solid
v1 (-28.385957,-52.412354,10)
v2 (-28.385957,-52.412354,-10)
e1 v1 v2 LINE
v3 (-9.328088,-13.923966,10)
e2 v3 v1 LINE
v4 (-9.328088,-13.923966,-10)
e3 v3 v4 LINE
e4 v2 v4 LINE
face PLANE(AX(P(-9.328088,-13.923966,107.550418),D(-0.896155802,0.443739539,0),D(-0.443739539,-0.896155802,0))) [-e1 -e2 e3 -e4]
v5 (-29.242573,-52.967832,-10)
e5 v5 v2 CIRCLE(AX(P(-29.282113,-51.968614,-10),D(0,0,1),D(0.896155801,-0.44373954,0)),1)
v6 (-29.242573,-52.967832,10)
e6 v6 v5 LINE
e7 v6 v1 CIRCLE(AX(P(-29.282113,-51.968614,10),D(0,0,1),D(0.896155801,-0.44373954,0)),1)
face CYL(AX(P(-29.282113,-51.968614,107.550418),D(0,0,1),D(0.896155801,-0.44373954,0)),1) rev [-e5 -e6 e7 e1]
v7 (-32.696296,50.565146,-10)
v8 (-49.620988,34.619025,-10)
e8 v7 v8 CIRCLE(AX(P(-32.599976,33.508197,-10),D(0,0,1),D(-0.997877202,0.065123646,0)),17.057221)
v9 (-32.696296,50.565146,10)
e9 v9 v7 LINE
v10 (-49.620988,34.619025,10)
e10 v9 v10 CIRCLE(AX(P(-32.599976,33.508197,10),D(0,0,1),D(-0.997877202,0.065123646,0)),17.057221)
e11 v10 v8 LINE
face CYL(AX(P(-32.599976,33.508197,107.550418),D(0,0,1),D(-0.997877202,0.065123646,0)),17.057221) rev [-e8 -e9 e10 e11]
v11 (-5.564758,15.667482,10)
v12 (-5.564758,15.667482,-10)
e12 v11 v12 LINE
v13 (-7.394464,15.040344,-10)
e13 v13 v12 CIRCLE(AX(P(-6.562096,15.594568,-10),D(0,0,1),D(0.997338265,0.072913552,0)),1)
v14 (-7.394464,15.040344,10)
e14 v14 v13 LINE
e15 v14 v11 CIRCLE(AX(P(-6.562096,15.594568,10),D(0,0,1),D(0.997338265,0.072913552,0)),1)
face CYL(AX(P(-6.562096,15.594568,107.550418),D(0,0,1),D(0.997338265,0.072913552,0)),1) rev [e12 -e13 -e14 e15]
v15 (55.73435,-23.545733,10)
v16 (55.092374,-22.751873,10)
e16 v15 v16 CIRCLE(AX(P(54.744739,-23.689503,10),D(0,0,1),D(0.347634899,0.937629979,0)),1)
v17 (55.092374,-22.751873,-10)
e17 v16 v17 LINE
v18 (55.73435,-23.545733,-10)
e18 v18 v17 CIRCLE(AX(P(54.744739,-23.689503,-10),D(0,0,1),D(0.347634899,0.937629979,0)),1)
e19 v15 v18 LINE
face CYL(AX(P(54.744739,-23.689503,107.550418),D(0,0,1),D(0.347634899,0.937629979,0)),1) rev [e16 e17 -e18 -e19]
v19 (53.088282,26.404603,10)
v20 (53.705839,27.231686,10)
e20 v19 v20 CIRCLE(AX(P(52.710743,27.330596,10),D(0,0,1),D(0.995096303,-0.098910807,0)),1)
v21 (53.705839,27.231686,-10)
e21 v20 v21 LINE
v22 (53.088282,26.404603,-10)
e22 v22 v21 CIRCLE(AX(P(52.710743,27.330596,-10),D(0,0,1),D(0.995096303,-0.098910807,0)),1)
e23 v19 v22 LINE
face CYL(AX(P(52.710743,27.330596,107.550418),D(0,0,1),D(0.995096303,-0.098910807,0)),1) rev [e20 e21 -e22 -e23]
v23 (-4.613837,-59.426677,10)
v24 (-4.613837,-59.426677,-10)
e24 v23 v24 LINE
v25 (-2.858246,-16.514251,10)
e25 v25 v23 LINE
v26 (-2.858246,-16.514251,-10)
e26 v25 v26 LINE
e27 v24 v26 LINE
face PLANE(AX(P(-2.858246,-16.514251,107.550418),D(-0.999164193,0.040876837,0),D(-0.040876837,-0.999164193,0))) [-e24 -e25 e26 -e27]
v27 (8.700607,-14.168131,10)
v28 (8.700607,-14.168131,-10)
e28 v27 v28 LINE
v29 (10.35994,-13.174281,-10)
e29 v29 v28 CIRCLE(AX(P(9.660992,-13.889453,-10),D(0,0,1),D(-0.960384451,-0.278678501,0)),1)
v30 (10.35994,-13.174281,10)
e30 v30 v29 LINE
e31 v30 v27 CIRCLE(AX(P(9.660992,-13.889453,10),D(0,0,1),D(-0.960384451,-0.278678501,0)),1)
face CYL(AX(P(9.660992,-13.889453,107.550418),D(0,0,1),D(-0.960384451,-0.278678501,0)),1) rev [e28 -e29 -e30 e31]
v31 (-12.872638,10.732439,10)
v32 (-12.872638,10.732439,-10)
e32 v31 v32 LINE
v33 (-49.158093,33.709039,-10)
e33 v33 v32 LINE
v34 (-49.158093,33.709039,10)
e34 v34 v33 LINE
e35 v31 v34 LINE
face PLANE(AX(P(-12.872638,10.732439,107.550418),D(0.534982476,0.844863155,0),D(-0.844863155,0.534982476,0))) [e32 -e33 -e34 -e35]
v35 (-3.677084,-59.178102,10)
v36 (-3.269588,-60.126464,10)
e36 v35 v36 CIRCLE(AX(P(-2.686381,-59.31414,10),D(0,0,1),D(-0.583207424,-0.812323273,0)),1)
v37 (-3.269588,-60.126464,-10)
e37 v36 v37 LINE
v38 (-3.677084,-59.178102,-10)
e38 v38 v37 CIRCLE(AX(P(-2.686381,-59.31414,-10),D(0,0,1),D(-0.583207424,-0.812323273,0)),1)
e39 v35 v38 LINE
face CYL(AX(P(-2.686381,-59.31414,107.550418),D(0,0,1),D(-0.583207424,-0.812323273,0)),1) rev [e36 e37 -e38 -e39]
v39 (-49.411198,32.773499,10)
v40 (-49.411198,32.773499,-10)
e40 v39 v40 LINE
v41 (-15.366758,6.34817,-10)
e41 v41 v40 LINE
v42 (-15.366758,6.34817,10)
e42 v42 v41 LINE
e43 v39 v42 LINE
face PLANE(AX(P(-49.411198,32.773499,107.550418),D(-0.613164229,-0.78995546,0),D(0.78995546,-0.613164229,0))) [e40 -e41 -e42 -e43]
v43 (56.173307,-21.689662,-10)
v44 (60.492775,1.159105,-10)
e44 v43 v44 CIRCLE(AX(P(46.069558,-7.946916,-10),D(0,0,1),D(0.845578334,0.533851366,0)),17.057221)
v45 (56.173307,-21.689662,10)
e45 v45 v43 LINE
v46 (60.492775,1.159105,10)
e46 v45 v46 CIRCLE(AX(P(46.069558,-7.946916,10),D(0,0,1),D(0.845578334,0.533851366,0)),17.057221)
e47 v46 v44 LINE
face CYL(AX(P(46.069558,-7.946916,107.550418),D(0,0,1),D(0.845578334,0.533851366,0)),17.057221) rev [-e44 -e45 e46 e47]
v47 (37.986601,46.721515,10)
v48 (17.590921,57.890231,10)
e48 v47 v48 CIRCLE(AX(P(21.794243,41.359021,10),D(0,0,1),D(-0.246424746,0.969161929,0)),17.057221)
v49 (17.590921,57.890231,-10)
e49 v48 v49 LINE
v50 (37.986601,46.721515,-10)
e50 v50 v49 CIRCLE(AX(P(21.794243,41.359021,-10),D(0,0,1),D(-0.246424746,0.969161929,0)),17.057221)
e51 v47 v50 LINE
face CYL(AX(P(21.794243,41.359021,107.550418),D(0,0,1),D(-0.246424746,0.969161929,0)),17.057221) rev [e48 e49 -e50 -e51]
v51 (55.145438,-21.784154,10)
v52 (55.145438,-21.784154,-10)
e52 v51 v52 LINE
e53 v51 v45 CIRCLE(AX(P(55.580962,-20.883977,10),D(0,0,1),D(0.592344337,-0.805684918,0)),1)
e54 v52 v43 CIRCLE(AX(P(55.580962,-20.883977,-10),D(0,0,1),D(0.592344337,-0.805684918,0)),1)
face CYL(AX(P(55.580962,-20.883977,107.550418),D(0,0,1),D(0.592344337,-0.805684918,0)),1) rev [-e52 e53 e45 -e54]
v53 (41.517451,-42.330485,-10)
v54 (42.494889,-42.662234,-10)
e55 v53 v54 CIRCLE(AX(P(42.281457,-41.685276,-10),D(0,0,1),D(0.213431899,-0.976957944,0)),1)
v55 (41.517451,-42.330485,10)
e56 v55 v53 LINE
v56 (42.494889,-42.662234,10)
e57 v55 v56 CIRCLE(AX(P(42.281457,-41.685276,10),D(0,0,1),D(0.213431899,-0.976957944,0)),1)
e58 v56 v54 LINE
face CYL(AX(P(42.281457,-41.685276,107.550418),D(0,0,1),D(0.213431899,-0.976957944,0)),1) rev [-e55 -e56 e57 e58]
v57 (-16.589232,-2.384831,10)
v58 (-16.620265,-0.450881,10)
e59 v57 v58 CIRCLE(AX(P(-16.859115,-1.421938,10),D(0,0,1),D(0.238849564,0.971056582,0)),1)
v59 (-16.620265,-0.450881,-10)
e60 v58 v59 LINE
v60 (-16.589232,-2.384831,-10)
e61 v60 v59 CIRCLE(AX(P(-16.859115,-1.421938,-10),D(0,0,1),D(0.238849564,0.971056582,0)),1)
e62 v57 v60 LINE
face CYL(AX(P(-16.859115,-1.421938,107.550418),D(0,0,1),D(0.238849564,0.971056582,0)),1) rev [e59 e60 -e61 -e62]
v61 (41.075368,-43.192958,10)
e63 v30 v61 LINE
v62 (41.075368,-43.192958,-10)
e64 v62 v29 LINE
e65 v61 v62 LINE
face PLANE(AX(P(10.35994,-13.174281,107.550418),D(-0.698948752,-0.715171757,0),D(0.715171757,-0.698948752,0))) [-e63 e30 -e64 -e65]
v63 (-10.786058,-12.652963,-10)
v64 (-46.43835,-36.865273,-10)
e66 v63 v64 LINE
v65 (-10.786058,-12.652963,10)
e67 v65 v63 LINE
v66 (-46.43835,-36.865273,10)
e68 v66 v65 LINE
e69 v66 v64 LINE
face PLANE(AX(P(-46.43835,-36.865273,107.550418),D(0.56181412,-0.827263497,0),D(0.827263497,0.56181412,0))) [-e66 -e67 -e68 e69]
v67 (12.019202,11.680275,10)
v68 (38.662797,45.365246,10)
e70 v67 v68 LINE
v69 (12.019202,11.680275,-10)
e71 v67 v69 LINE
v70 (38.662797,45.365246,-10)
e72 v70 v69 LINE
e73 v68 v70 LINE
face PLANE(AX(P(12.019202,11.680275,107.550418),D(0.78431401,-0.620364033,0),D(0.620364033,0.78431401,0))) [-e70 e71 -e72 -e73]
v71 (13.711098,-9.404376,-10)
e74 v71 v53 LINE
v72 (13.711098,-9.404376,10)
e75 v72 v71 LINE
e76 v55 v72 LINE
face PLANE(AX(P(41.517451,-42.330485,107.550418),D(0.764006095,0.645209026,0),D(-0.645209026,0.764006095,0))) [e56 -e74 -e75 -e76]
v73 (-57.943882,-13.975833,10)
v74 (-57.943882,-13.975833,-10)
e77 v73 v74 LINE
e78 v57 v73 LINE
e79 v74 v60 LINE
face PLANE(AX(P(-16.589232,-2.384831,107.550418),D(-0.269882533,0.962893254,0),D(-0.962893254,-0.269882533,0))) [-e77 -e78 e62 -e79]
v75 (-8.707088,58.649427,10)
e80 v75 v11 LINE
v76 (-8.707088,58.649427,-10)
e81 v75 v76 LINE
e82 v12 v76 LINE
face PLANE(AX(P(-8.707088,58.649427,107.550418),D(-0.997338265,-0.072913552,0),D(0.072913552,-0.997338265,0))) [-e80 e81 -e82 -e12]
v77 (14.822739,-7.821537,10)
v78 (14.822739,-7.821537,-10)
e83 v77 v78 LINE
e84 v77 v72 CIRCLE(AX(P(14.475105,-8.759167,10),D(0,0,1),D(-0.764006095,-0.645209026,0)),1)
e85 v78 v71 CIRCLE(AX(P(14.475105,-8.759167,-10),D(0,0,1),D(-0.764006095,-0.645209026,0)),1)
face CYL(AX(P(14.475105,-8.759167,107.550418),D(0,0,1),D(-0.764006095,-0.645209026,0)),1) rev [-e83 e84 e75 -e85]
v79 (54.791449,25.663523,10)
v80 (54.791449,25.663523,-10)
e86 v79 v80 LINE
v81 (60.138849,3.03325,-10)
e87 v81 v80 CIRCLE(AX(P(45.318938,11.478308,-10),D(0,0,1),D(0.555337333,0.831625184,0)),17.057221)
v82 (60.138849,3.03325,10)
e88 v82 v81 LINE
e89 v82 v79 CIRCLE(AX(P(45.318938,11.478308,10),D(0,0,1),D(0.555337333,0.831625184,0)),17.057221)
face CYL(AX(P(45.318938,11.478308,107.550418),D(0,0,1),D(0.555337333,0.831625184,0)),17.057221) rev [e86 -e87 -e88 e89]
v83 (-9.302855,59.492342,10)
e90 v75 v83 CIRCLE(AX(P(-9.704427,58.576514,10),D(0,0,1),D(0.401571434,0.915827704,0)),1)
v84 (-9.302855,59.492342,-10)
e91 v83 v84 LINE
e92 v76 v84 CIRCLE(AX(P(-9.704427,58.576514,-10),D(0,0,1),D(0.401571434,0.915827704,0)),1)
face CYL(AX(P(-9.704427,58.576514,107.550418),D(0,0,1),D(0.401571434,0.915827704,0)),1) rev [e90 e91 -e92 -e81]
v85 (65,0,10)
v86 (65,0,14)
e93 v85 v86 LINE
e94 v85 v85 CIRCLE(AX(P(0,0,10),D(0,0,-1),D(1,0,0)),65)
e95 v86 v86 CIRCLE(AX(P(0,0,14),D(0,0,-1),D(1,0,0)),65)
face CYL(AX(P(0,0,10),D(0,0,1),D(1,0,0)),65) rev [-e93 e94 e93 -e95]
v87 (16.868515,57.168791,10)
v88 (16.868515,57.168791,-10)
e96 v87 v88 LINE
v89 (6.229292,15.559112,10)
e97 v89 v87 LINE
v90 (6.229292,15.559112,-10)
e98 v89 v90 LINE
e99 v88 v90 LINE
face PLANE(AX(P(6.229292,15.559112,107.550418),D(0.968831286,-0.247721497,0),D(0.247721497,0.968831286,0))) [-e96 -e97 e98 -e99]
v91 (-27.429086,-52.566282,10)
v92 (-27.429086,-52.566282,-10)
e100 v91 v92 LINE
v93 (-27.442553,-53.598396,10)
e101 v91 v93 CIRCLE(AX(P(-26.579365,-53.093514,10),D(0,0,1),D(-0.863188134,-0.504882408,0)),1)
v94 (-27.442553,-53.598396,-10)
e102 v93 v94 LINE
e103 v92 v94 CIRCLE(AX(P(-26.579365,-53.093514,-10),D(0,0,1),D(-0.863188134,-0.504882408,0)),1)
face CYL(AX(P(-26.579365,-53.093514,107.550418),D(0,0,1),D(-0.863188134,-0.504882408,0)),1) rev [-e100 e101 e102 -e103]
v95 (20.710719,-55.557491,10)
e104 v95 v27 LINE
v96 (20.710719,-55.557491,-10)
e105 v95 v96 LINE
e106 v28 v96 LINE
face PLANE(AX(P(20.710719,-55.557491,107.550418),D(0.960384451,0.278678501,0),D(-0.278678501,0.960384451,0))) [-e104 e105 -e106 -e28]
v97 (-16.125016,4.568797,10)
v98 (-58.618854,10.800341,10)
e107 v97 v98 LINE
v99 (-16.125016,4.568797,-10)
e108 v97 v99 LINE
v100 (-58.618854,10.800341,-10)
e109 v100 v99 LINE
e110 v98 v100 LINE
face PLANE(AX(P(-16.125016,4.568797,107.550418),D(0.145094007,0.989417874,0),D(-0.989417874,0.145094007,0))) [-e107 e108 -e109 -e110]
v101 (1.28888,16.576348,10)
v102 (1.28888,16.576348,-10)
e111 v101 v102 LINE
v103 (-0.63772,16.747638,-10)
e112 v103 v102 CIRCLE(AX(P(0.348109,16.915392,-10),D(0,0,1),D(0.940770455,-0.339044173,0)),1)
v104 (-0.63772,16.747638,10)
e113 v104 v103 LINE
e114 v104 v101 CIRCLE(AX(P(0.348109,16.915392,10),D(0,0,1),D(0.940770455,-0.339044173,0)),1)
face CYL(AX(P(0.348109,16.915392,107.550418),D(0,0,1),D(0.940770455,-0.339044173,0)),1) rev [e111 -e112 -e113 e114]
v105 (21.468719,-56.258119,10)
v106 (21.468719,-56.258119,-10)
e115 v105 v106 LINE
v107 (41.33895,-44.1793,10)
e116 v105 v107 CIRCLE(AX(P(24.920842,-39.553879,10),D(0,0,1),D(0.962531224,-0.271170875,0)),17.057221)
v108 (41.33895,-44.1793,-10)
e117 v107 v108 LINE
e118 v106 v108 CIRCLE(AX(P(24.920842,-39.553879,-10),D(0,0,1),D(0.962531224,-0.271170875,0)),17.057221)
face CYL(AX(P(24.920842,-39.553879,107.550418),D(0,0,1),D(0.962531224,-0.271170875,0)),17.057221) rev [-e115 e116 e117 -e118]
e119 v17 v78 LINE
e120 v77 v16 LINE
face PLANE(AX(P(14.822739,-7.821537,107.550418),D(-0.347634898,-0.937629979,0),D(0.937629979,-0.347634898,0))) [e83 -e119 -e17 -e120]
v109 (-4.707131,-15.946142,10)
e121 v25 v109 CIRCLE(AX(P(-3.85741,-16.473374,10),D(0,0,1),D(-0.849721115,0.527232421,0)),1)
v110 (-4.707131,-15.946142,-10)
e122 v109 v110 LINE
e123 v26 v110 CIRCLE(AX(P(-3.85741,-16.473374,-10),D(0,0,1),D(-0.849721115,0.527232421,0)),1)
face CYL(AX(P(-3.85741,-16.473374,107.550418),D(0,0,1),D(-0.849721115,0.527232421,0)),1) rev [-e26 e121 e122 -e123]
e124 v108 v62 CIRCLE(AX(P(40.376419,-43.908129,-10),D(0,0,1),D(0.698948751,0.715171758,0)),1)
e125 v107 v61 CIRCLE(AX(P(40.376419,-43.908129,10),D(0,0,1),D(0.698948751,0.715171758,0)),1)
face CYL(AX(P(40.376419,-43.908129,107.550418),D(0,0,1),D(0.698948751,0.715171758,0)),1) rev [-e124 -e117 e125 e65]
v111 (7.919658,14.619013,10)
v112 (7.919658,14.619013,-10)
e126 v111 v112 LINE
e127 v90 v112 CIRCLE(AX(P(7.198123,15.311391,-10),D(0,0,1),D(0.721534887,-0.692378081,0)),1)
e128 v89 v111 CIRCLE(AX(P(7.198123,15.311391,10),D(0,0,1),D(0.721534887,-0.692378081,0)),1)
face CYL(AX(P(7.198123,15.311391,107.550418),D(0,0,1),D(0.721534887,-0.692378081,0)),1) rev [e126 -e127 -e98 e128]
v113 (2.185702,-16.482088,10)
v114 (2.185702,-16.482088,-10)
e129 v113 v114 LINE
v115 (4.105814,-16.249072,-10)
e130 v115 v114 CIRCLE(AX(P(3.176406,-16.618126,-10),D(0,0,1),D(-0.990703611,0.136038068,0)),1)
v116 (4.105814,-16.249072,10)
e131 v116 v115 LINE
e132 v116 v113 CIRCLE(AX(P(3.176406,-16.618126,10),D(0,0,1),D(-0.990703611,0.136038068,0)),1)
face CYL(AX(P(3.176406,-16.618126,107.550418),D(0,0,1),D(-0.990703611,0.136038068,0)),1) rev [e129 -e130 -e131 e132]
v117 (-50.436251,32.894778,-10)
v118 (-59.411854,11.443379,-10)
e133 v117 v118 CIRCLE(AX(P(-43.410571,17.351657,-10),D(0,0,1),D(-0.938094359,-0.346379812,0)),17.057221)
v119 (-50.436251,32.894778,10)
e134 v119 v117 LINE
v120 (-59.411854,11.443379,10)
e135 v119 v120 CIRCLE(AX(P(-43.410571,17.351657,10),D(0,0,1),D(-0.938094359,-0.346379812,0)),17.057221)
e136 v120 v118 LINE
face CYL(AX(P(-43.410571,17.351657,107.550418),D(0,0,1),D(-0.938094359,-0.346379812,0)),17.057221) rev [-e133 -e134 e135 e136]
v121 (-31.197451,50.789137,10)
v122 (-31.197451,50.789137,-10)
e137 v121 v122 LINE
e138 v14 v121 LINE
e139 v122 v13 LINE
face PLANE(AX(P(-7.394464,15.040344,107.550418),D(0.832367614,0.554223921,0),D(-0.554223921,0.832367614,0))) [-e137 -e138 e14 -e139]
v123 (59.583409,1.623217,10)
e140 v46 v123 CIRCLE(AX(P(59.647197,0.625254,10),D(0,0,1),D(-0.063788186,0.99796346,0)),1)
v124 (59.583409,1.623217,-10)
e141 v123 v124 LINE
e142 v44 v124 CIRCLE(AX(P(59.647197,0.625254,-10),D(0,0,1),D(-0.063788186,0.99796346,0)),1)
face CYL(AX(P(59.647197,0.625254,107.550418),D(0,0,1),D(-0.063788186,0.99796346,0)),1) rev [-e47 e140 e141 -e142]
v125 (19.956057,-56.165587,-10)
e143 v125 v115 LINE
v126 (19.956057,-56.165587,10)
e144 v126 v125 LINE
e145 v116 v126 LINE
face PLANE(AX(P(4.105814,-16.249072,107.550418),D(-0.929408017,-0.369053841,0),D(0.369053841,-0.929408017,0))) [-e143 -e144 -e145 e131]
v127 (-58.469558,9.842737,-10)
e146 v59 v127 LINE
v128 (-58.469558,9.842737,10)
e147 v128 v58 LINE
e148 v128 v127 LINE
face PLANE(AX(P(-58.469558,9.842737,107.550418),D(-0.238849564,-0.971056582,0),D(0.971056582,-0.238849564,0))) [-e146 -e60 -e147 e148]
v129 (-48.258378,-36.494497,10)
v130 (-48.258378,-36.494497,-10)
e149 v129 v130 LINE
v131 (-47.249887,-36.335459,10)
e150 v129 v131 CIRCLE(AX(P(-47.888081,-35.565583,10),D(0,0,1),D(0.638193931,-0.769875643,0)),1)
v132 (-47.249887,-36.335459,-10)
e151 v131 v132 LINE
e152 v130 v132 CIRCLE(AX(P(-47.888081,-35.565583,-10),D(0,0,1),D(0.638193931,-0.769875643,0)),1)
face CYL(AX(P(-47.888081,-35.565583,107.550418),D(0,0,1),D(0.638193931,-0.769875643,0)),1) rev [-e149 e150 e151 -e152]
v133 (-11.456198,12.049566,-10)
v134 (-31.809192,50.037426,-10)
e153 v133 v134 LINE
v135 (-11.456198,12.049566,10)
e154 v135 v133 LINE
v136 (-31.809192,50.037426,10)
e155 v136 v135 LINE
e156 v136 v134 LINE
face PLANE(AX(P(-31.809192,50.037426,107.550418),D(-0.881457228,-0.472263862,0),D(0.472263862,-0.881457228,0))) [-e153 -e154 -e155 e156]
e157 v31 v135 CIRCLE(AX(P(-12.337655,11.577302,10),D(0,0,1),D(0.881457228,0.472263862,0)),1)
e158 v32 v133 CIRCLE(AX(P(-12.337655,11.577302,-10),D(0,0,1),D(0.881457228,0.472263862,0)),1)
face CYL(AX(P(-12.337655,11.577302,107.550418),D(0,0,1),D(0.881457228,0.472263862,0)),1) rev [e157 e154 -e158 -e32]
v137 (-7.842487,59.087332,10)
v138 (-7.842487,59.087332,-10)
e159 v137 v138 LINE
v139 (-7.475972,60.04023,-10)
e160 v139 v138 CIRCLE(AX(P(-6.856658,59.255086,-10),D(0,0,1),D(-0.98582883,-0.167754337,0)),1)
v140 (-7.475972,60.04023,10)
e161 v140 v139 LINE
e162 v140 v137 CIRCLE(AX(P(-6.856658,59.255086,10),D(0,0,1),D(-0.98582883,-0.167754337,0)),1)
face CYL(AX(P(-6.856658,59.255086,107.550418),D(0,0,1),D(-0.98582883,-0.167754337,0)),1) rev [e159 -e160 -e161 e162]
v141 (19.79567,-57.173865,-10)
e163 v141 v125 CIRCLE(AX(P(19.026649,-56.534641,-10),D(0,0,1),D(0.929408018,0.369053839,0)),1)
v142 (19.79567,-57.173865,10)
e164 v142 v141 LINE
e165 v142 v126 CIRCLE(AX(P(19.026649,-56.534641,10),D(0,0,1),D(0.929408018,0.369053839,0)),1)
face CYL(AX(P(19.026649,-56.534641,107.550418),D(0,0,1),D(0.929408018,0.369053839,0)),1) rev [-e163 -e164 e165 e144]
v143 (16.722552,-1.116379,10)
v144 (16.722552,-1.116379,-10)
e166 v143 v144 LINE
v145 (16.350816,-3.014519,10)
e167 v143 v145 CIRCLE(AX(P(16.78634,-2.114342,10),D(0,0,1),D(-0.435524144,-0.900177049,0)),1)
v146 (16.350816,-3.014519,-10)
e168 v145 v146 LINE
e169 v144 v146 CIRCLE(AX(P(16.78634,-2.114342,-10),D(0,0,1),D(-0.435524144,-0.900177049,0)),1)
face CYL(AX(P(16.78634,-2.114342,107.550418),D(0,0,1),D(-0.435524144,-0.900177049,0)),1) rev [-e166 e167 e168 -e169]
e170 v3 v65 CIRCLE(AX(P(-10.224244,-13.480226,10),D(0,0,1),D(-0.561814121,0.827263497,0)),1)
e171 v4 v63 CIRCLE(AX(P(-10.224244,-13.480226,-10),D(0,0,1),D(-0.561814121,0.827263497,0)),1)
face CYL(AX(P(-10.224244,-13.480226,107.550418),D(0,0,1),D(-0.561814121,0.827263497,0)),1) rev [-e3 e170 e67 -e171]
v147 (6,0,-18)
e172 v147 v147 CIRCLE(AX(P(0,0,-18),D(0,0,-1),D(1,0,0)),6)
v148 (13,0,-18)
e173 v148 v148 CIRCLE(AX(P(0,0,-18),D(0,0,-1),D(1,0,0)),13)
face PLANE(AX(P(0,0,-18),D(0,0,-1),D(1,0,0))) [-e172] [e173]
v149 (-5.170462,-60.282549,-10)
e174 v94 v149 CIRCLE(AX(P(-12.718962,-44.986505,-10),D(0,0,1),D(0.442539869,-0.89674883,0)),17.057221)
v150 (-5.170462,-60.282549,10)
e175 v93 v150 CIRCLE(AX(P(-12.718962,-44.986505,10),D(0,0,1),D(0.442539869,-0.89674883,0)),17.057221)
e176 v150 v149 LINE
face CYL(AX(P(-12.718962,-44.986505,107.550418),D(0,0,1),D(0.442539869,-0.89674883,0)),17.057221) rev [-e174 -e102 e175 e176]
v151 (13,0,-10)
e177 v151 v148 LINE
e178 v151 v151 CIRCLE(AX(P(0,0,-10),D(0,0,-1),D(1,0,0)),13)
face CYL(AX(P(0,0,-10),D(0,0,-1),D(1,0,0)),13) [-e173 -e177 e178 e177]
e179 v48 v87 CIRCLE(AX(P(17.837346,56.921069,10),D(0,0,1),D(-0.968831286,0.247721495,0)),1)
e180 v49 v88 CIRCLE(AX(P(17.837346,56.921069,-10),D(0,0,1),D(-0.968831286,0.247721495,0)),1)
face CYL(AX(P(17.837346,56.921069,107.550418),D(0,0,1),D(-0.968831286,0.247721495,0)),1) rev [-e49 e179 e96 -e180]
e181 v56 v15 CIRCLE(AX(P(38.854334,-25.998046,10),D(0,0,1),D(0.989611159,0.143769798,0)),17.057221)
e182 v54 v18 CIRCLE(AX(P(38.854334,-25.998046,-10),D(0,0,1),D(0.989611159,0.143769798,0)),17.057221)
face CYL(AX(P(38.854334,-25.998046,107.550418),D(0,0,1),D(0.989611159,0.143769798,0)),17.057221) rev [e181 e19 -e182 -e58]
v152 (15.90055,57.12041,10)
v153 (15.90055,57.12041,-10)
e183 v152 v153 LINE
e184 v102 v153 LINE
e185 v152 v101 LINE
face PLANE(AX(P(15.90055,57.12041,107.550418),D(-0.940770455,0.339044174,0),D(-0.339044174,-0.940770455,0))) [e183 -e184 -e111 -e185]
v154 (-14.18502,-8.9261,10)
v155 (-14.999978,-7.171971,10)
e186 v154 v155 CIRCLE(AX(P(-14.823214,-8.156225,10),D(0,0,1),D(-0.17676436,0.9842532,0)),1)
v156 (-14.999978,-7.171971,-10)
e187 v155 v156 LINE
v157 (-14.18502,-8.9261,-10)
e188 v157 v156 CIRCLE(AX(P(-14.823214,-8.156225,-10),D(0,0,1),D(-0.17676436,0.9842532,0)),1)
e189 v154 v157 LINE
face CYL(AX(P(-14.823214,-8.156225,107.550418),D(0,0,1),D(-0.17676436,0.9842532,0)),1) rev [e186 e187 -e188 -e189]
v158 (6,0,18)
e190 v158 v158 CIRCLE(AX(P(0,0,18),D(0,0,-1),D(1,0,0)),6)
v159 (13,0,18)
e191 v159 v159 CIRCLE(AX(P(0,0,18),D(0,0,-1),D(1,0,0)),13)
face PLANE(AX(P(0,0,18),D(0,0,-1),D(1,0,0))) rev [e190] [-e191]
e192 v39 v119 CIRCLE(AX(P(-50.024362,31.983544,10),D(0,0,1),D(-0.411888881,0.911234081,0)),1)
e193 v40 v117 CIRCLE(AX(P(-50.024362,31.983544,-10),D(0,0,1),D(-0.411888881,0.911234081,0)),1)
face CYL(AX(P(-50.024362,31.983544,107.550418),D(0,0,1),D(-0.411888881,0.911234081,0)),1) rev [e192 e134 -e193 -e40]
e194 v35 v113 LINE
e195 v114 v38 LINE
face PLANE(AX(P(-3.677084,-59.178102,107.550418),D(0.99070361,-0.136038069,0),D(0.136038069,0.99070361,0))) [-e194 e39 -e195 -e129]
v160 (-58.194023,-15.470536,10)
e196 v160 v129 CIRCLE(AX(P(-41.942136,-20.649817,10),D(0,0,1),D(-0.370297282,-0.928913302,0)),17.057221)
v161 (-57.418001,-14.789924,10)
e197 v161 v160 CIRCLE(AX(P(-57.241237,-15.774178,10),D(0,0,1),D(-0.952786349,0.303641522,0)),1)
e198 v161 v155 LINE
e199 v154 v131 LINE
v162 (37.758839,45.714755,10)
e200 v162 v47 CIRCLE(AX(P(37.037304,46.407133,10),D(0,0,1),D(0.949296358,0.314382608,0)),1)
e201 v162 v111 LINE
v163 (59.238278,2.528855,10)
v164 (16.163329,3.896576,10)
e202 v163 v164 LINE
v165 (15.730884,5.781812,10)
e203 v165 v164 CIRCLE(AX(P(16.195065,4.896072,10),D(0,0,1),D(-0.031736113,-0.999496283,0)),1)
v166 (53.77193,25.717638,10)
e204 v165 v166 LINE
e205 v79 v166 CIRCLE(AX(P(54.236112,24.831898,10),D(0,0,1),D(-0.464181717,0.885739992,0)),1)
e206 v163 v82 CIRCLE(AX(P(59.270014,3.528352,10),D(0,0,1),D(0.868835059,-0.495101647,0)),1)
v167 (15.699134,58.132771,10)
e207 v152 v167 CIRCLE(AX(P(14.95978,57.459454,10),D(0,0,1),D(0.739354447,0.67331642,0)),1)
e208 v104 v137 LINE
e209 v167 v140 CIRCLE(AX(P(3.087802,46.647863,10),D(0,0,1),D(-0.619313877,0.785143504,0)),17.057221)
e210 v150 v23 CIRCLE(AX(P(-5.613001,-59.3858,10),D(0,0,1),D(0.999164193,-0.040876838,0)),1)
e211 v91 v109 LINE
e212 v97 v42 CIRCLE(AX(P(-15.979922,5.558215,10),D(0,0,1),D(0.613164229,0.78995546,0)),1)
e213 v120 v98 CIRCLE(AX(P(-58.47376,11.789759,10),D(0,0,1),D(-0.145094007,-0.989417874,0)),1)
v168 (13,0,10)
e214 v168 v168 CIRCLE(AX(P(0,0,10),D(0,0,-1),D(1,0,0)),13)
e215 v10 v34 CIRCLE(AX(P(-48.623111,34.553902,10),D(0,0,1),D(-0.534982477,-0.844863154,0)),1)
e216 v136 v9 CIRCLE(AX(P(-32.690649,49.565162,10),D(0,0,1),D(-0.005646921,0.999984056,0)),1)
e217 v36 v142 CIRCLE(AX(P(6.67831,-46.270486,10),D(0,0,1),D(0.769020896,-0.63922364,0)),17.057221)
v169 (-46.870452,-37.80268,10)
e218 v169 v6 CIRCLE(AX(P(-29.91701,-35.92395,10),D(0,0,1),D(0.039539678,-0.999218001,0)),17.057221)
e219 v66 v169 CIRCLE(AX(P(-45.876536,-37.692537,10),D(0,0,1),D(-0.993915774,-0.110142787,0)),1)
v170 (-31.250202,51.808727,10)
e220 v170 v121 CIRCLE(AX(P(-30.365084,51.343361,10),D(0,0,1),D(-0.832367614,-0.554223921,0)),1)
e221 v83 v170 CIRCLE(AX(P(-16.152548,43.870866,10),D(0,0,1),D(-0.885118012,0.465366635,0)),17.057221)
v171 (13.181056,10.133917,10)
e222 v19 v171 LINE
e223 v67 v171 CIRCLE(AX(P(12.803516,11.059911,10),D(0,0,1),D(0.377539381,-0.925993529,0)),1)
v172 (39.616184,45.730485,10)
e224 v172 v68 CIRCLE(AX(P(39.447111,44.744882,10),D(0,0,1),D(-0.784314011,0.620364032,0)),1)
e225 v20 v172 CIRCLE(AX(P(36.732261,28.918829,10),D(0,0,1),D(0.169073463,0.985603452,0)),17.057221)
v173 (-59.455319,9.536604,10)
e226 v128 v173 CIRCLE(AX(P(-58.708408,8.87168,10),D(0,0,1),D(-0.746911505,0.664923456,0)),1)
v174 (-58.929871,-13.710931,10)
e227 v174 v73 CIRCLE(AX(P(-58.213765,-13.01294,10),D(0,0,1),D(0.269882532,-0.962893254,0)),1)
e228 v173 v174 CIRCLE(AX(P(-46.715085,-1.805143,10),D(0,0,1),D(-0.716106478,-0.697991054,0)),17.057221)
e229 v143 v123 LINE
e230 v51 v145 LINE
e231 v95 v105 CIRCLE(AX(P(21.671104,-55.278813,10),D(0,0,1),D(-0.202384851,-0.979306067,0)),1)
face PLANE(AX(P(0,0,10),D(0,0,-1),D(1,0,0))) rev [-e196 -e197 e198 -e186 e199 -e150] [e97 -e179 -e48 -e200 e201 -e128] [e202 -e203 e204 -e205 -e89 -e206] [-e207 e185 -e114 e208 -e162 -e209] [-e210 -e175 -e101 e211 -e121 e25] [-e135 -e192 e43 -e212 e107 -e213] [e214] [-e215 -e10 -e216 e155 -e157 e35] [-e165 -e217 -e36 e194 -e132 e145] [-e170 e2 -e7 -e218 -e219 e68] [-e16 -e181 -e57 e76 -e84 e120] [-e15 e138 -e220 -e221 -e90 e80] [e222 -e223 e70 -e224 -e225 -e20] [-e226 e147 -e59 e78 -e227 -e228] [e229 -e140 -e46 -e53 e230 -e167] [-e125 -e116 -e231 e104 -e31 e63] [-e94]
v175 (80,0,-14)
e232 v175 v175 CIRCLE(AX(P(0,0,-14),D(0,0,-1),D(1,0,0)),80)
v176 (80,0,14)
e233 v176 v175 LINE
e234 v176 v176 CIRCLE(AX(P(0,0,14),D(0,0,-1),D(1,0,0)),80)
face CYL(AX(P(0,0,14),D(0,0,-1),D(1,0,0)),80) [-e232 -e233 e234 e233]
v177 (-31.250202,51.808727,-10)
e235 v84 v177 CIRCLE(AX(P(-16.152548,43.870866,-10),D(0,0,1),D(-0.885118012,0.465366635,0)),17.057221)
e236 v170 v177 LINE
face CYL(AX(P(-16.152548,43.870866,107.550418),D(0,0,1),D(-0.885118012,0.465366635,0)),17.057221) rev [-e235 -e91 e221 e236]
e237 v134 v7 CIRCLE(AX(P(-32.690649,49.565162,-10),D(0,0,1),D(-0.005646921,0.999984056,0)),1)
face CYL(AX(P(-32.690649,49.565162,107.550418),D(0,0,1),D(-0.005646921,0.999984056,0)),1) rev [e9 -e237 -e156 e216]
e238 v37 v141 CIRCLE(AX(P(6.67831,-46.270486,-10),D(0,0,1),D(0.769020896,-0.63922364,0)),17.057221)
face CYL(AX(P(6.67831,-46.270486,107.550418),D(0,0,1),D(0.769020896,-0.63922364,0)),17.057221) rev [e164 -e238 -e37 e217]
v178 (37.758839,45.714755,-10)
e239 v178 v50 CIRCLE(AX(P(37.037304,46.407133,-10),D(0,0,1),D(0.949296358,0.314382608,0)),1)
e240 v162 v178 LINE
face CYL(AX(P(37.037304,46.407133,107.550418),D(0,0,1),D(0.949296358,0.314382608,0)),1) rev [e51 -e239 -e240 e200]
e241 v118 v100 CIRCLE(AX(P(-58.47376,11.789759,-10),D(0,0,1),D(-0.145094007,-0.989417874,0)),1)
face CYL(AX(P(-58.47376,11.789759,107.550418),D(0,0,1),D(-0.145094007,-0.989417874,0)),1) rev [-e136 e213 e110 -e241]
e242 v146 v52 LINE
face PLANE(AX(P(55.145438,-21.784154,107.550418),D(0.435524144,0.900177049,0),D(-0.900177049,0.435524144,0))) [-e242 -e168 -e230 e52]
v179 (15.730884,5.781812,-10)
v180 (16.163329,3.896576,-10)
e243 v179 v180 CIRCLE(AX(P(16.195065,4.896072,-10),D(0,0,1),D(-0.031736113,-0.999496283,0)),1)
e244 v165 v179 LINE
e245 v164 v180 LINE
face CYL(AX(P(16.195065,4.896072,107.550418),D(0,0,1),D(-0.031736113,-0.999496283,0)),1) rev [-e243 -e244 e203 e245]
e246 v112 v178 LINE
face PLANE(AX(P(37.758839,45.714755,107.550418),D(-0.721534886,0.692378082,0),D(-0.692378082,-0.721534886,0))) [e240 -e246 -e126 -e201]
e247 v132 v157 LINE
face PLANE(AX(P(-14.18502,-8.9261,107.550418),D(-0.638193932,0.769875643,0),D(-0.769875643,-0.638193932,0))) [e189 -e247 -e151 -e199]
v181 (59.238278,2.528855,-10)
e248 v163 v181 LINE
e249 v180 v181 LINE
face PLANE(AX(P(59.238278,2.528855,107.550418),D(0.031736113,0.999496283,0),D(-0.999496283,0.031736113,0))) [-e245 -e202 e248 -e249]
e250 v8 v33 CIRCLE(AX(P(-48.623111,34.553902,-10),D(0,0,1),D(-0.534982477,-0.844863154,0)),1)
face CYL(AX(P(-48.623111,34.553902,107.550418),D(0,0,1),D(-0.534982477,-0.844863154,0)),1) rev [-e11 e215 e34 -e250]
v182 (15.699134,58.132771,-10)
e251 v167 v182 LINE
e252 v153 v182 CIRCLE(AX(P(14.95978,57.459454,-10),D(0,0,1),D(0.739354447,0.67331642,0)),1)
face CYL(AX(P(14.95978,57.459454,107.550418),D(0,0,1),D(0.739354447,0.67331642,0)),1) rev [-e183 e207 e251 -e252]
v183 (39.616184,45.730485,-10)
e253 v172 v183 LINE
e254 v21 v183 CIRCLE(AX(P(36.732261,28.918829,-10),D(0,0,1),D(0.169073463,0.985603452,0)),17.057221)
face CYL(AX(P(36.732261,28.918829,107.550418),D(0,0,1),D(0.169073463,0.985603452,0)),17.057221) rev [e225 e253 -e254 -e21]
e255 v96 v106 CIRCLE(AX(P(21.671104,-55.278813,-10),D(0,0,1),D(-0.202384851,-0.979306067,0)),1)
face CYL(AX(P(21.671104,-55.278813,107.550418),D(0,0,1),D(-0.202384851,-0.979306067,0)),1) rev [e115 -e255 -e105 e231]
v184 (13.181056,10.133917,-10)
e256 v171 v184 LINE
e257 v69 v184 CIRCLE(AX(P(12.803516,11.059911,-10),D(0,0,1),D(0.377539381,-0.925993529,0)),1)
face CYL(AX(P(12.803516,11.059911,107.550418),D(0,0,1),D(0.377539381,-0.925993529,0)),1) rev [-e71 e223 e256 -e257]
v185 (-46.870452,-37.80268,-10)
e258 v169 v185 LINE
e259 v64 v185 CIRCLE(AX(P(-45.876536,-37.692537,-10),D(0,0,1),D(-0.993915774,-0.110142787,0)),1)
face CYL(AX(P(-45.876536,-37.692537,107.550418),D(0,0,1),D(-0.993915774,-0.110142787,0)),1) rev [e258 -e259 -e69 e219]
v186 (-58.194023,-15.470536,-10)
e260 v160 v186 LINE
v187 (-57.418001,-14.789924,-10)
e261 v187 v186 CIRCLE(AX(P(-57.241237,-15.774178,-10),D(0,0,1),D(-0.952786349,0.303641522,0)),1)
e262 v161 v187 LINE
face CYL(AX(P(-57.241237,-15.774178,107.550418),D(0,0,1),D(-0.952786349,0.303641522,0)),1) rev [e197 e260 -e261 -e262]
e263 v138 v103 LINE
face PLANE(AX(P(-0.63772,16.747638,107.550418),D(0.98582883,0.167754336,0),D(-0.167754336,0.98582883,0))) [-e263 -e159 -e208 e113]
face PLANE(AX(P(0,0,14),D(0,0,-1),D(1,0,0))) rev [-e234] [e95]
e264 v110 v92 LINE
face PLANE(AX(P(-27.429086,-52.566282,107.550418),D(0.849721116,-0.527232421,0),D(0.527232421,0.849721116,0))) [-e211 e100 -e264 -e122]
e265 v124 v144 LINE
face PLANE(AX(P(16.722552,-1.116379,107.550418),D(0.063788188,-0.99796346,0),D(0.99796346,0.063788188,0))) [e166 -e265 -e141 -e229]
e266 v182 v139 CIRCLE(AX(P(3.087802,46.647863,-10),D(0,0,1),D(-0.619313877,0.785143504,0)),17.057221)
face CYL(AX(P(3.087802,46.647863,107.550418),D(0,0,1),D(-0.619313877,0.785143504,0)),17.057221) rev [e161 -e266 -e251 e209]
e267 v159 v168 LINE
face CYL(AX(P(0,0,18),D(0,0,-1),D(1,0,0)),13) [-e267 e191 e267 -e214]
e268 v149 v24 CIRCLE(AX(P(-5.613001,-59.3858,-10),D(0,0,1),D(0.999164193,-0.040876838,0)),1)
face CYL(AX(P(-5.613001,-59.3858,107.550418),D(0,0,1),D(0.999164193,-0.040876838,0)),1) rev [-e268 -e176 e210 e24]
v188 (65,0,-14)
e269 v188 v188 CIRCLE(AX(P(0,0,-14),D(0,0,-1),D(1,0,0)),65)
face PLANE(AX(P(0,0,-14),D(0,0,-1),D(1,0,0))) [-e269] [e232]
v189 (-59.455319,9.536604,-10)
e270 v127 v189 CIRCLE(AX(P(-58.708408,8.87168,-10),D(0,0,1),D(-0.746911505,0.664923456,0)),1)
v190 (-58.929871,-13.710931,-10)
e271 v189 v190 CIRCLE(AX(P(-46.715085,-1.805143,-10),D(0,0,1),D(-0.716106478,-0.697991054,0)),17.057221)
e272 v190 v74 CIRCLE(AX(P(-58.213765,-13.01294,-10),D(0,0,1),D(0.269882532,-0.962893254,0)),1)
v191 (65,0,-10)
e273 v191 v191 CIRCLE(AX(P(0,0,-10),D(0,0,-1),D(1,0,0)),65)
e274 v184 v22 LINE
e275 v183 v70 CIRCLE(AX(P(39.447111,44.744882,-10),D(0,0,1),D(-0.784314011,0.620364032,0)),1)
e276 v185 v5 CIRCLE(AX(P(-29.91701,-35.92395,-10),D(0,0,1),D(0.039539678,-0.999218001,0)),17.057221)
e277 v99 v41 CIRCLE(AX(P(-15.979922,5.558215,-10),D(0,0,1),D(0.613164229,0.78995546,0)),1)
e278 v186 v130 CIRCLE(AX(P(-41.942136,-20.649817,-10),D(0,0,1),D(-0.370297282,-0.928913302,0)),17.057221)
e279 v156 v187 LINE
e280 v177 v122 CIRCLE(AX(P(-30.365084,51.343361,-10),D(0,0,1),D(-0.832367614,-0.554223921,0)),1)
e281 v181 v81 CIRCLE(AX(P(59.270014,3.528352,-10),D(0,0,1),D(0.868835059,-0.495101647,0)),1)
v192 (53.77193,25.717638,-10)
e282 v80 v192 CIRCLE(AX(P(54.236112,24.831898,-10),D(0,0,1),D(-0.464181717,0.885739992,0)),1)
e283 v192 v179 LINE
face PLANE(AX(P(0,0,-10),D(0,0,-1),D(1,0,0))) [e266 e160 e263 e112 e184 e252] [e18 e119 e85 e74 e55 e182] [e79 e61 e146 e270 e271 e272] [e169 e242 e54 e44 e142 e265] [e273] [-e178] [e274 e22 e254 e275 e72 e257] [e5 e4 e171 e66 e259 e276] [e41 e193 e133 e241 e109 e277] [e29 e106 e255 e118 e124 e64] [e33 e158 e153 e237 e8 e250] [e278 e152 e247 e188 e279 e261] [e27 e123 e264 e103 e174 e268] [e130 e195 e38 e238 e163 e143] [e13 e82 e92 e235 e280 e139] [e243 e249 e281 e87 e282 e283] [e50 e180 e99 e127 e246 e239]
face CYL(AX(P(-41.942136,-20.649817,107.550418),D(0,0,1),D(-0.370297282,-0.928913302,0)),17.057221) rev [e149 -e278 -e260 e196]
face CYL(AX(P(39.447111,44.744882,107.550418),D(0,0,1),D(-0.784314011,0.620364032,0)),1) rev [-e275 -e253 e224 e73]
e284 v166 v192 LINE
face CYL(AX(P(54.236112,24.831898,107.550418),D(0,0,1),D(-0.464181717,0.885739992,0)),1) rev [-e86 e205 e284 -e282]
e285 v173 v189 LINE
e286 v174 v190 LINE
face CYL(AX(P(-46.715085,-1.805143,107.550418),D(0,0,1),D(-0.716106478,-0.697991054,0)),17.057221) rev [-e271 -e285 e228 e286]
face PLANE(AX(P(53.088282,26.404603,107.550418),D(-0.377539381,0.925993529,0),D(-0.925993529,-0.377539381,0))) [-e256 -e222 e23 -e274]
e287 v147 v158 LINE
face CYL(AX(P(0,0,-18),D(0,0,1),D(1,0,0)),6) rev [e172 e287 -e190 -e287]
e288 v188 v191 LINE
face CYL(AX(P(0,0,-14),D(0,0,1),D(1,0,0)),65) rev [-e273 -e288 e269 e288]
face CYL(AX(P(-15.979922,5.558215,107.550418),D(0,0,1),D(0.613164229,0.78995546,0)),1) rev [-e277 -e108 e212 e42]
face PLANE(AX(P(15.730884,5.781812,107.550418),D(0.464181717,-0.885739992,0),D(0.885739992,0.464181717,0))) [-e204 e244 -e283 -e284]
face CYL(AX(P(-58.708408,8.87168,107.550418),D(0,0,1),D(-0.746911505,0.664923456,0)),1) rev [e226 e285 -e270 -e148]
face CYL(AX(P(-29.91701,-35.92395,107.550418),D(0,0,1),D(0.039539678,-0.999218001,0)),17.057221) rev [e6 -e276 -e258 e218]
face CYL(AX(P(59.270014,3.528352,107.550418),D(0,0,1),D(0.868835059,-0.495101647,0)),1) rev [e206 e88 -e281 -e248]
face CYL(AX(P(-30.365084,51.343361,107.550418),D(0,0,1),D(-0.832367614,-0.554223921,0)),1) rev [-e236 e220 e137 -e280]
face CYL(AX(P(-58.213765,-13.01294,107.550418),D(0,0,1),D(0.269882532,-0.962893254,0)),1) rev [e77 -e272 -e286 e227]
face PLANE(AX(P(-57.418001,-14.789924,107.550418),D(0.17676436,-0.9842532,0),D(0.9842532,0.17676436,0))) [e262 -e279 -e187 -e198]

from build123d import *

# Parameters (mm, degrees)
CUT_EXTRUDE1_DEPTH      = 117.550418275
CUT_EXTRUDE1_DEPTH_BACK = 117.550418275


with BuildPart() as part:
    # Sketch1 → Revolve1 (revolve)
    with BuildSketch(Plane(origin=(0, 0, 0), x_dir=(0, 0, -1), z_dir=(1, 0, 0)), mode=Mode.PRIVATE) as revolve1_sk:
        Polygon((-14, 80), (14, 80), (14, 65), (10, 65), (10, 13), (18, 13), (18, 6), (-18, 6), (-18, 13), (-10, 13), (-10, 65), (-14, 65), align=None)
    revolve(revolve1_sk.sketch.rotate(Axis((0, 0, 21.009226083), (0, 0, -1)), 90), axis=Axis((0, 0, 21.009226083), (0, 0, -1)))

    # Sketch2 → Cut-Extrude1 (cut, two sides: drawn at the far end of the back side and taken through both)
    with BuildSketch(Plane(origin=(0, 0, -10), x_dir=(-1, 0, 0), z_dir=(0, 0, -1)).offset(-CUT_EXTRUDE1_DEPTH_BACK)):
        with BuildLine():
            Line((0.637719681, 16.747637536), (7.842487003, 59.087331998))
            ThreePointArc((7.842487003, 59.087331998), (7.789998599, 59.614078882), (7.47597205, 60.040229838))
            ThreePointArc((7.47597205, 60.040229838), (-4.486988844, 63.647600818), (-15.699134285, 58.13277051))
            ThreePointArc((-15.699134285, 58.13277051), (-15.940556782, 57.654586316), (-15.900550292, 57.120409916))
            Line((-15.900550292, 57.120409916), (-1.288879604, 16.576347699))
            ThreePointArc((-1.288879604, 16.576347699), (-0.259550601, 15.919320899), (0.637719681, 16.747637536))
        make_face()
        with BuildLine():
            Line((7.394463789, 15.040344235), (31.197451444, 50.789136914))
            ThreePointArc((31.197451444, 50.789136914), (31.36374816, 51.291693094), (31.250201842, 51.80872747))
            ThreePointArc((31.250201842, 51.80872747), (21.78874322, 59.969999397), (9.302855115, 59.492341617))
            ThreePointArc((9.302855115, 59.492341617), (8.887809655, 59.153693995), (8.707088287, 58.649427466))
            Line((8.707088287, 58.649427466), (5.56475791, 15.667481708))
            ThreePointArc((5.56475791, 15.667481708), (6.23785987, 14.648592036), (7.394463789, 15.040344235))
        make_face()
        with BuildLine():
            Line((12.872637931, 10.732438778), (49.15809311, 33.709038652))
            ThreePointArc((49.15809311, 33.709038652), (49.514420733, 34.1005076), (49.620987836, 34.619025454))
            ThreePointArc((49.620987836, 34.619025454), (44.297003636, 45.92304027), (32.696296351, 50.565146389))
            ThreePointArc((32.696296351, 50.565146389), (32.17939306, 50.424590588), (31.809192199, 50.037426194))
            Line((31.809192199, 50.037426194), (11.456198227, 12.049565795))
            ThreePointArc((11.456198227, 12.049565795), (11.6566877, 10.844988532), (12.872637931, 10.732438778))
        make_face()
        with BuildLine():
            Line((16.12501603, 4.568797156), (58.618853889, 10.800341371))
            ThreePointArc((58.618853889, 10.800341371), (59.103600137, 11.013034549), (59.411854241, 11.443379433))
            ThreePointArc((59.411854241, 11.443379433), (59.145909698, 23.935570282), (50.436250912, 32.894777979))
            ThreePointArc((50.436250912, 32.894777979), (49.906867064, 32.976617376), (49.411197804, 32.773499358))
            Line((49.411197804, 32.773499358), (15.366757794, 6.348170489))
            ThreePointArc((15.366757794, 6.348170489), (15.05996833, 5.166187987), (16.12501603, 4.568797156))
        make_face()
        with BuildLine():
            Line((16.589232367, -2.384831001), (57.943882296, -13.975833051))
            ThreePointArc((57.943882296, -13.975833051), (58.473230137, -13.978692226), (58.929871308, -13.710930852))
            ThreePointArc((58.929871308, -13.710930852), (63.767950649, -2.190577255), (59.455319492, 9.536603618))
            ThreePointArc((59.455319492, 9.536603618), (59.004990363, 9.826687436), (58.469558421, 9.842736744))
            Line((58.469558421, 9.842736744), (16.620265336, -0.450881165))
            ThreePointArc((16.620265336, -0.450881165), (15.859243619, -1.405893394), (16.589232367, -2.384831001))
        make_face()
        with BuildLine():
            Line((14.185019719, -8.926100213), (47.24988705, -36.335458973))
            ThreePointArc((47.24988705, -36.335458973), (47.732307435, -36.553376123), (48.258378264, -36.494496632))
            ThreePointArc((48.258378264, -36.494496632), (57.36393362, -27.937954084), (58.194023196, -15.470536147))
            ThreePointArc((58.194023196, -15.470536147), (57.900614785, -15.022366034), (57.418001208, -14.789924471))
            Line((57.418001208, -14.789924471), (14.999978011, -7.17197137))
            ThreePointArc((14.999978011, -7.17197137), (13.91631161, -7.734883035), (14.185019719, -8.926100213))
        make_face()
        with BuildLine():
            Line((9.328088295, -13.923965606), (28.385957082, -52.412353941))
            ThreePointArc((28.385957082, -52.412353941), (28.738035143, -52.807649211), (29.242573206, -52.967832403))
            ThreePointArc((29.242573206, -52.967832403), (41.041171333, -48.854604843), (46.870451614, -37.802679666))
            ThreePointArc((46.870451614, -37.802679666), (46.7846969, -37.273915943), (46.43834996, -36.865273382))
            Line((46.43834996, -36.865273382), (10.786058217, -12.65296257))
            ThreePointArc((10.786058217, -12.65296257), (9.567122898, -12.726441131), (9.328088295, -13.923965606))
        make_face()
        with BuildLine():
            Line((2.858245661, -16.514250851), (4.613837255, -59.426676761))
            ThreePointArc((4.613837255, -59.426676761), (4.774695497, -59.931000008), (5.170461579, -60.282548753))
            ThreePointArc((5.170461579, -60.282548753), (17.622017675, -61.323850595), (27.442553143, -53.598396444))
            ThreePointArc((27.442553143, -53.598396444), (27.579279895, -53.080467163), (27.429086125, -52.566281616))
            Line((27.429086125, -52.566281616), (4.70713097, -15.946141593))
            ThreePointArc((4.70713097, -15.946141593), (3.563691723, -15.517481939), (2.858245661, -16.514250851))
        make_face()
        with BuildLine():
            Line((-4.105813613, -16.249072097), (-19.956056948, -56.165587294))
            ThreePointArc((-19.956056948, -56.165587294), (-20.014232376, -56.691736448), (-19.795669826, -57.173864775))
            ThreePointArc((-19.795669826, -57.173864775), (-8.84414293, -63.189645469), (3.269587926, -60.126463551))
            ThreePointArc((3.269587926, -60.126463551), (3.605154846, -59.708923389), (3.677084113, -59.178102208))
            Line((3.677084113, -59.178102208), (-2.185701986, -16.482087868))
            ThreePointArc((-2.185701986, -16.482087868), (-3.055934127, -15.625409147), (-4.105813613, -16.249072097))
        make_face()
        with BuildLine():
            Line((-10.359940414, -13.174281159), (-41.07536761, -43.192957537))
            ThreePointArc((-41.07536761, -43.192957537), (-41.342517649, -43.649956627), (-41.338950081, -44.179300168))
            ThreePointArc((-41.338950081, -44.179300168), (-33.781070876, -54.129376582), (-21.468718747, -56.258118879))
            ThreePointArc((-21.468718747, -56.258118879), (-20.992334227, -56.013164323), (-20.710719147, -55.557491313))
            Line((-20.710719147, -55.557491313), (-8.700607211, -14.168131416))
            ThreePointArc((-8.700607211, -14.168131416), (-9.147161204, -13.031561162), (-10.359940414, -13.174281159))
        make_face()
        with BuildLine():
            Line((-14.8227394, -7.821537324), (-55.092374054, -22.751873025))
            ThreePointArc((-55.092374054, -22.751873025), (-55.522306034, -23.060702758), (-55.734350314, -23.545733206))
            ThreePointArc((-55.734350314, -23.545733206), (-52.876944776, -35.709646734), (-42.494888911, -42.662234363))
            ThreePointArc((-42.494888911, -42.662234363), (-41.960058003, -42.632220281), (-41.517450915, -42.330485445))
            Line((-41.517450915, -42.330485445), (-13.711098407, -9.404376329))
            ThreePointArc((-13.711098407, -9.404376329), (-13.656761009, -8.184437864), (-14.8227394, -7.821537324))
        make_face()
        with BuildLine():
            Line((-16.722552084, -1.116378629), (-59.583408526, 1.623217027))
            ThreePointArc((-59.583408526, 1.623217027), (-60.101783302, 1.515956117), (-60.492775047, 1.159104933))
            ThreePointArc((-60.492775047, 1.159104933), (-62.829914552, -11.115394554), (-56.173306729, -21.689661952))
            ThreePointArc((-56.173306729, -21.689661952), (-55.672506555, -21.879778052), (-55.145438246, -21.784154084))
            Line((-55.145438246, -21.784154084), (-16.350816127, -3.014519138))
            ThreePointArc((-16.350816127, -3.014519138), (-15.804982768, -1.922150906), (-16.722552084, -1.116378629))
        make_face()
        with BuildLine():
            Line((-15.730883592, 5.781812073), (-53.771930365, 25.717638108))
            ThreePointArc((-53.771930365, 25.717638108), (-54.28911623, 25.830492408), (-54.791449415, 25.6635233))
            ThreePointArc((-54.791449415, 25.6635233), (-61.91902131, 15.400810325), (-60.138849494, 3.033250056))
            ThreePointArc((-60.138849494, 3.033250056), (-59.758672955, 2.655876574), (-59.238278324, 2.528855421))
            Line((-59.238278324, 2.528855421), (-16.163329196, 3.896575798))
            ThreePointArc((-16.163329196, 3.896575798), (-15.220379423, 4.672493406), (-15.730883592, 5.781812073))
        make_face()
        with BuildLine():
            Line((-12.019202417, 11.680274941), (-38.662796942, 45.365245923))
            ThreePointArc((-38.662796942, 45.365245923), (-39.08936776, 45.678701899), (-39.616184414, 45.730485342))
            ThreePointArc((-39.616184414, 45.730485342), (-50.301766767, 39.254075187), (-53.705838838, 27.231685572))
            ThreePointArc((-53.705838838, 27.231685572), (-53.512021911, 26.732306013), (-53.088281917, 26.40460285))
            Line((-53.088281917, 26.40460285), (-13.181055808, 10.133917379))
            ThreePointArc((-13.181055808, 10.133917379), (-12.004034203, 10.45922116), (-12.019202417, 11.680274941))
        make_face()
        with BuildLine():
            Line((-6.229291953, 15.55911216), (-16.868514687, 57.168790588))
            ThreePointArc((-16.868514687, 57.168790588), (-17.130712489, 57.628648854), (-17.590921227, 57.89023102))
            ThreePointArc((-17.590921227, 57.89023102), (-29.986879773, 56.319953837), (-37.986600745, 46.721515261))
            ThreePointArc((-37.986600745, 46.721515261), (-38.012656136, 46.186476887), (-37.758839274, 45.714754568))
            Line((-37.758839274, 45.714754568), (-7.919658125, 14.619012581))
            ThreePointArc((-7.919658125, 14.619012581), (-6.712082415, 14.437454556), (-6.229291953, 15.55911216))
        make_face()
    extrude(amount=CUT_EXTRUDE1_DEPTH + CUT_EXTRUDE1_DEPTH_BACK, mode=Mode.SUBTRACT)


solid = part.part
